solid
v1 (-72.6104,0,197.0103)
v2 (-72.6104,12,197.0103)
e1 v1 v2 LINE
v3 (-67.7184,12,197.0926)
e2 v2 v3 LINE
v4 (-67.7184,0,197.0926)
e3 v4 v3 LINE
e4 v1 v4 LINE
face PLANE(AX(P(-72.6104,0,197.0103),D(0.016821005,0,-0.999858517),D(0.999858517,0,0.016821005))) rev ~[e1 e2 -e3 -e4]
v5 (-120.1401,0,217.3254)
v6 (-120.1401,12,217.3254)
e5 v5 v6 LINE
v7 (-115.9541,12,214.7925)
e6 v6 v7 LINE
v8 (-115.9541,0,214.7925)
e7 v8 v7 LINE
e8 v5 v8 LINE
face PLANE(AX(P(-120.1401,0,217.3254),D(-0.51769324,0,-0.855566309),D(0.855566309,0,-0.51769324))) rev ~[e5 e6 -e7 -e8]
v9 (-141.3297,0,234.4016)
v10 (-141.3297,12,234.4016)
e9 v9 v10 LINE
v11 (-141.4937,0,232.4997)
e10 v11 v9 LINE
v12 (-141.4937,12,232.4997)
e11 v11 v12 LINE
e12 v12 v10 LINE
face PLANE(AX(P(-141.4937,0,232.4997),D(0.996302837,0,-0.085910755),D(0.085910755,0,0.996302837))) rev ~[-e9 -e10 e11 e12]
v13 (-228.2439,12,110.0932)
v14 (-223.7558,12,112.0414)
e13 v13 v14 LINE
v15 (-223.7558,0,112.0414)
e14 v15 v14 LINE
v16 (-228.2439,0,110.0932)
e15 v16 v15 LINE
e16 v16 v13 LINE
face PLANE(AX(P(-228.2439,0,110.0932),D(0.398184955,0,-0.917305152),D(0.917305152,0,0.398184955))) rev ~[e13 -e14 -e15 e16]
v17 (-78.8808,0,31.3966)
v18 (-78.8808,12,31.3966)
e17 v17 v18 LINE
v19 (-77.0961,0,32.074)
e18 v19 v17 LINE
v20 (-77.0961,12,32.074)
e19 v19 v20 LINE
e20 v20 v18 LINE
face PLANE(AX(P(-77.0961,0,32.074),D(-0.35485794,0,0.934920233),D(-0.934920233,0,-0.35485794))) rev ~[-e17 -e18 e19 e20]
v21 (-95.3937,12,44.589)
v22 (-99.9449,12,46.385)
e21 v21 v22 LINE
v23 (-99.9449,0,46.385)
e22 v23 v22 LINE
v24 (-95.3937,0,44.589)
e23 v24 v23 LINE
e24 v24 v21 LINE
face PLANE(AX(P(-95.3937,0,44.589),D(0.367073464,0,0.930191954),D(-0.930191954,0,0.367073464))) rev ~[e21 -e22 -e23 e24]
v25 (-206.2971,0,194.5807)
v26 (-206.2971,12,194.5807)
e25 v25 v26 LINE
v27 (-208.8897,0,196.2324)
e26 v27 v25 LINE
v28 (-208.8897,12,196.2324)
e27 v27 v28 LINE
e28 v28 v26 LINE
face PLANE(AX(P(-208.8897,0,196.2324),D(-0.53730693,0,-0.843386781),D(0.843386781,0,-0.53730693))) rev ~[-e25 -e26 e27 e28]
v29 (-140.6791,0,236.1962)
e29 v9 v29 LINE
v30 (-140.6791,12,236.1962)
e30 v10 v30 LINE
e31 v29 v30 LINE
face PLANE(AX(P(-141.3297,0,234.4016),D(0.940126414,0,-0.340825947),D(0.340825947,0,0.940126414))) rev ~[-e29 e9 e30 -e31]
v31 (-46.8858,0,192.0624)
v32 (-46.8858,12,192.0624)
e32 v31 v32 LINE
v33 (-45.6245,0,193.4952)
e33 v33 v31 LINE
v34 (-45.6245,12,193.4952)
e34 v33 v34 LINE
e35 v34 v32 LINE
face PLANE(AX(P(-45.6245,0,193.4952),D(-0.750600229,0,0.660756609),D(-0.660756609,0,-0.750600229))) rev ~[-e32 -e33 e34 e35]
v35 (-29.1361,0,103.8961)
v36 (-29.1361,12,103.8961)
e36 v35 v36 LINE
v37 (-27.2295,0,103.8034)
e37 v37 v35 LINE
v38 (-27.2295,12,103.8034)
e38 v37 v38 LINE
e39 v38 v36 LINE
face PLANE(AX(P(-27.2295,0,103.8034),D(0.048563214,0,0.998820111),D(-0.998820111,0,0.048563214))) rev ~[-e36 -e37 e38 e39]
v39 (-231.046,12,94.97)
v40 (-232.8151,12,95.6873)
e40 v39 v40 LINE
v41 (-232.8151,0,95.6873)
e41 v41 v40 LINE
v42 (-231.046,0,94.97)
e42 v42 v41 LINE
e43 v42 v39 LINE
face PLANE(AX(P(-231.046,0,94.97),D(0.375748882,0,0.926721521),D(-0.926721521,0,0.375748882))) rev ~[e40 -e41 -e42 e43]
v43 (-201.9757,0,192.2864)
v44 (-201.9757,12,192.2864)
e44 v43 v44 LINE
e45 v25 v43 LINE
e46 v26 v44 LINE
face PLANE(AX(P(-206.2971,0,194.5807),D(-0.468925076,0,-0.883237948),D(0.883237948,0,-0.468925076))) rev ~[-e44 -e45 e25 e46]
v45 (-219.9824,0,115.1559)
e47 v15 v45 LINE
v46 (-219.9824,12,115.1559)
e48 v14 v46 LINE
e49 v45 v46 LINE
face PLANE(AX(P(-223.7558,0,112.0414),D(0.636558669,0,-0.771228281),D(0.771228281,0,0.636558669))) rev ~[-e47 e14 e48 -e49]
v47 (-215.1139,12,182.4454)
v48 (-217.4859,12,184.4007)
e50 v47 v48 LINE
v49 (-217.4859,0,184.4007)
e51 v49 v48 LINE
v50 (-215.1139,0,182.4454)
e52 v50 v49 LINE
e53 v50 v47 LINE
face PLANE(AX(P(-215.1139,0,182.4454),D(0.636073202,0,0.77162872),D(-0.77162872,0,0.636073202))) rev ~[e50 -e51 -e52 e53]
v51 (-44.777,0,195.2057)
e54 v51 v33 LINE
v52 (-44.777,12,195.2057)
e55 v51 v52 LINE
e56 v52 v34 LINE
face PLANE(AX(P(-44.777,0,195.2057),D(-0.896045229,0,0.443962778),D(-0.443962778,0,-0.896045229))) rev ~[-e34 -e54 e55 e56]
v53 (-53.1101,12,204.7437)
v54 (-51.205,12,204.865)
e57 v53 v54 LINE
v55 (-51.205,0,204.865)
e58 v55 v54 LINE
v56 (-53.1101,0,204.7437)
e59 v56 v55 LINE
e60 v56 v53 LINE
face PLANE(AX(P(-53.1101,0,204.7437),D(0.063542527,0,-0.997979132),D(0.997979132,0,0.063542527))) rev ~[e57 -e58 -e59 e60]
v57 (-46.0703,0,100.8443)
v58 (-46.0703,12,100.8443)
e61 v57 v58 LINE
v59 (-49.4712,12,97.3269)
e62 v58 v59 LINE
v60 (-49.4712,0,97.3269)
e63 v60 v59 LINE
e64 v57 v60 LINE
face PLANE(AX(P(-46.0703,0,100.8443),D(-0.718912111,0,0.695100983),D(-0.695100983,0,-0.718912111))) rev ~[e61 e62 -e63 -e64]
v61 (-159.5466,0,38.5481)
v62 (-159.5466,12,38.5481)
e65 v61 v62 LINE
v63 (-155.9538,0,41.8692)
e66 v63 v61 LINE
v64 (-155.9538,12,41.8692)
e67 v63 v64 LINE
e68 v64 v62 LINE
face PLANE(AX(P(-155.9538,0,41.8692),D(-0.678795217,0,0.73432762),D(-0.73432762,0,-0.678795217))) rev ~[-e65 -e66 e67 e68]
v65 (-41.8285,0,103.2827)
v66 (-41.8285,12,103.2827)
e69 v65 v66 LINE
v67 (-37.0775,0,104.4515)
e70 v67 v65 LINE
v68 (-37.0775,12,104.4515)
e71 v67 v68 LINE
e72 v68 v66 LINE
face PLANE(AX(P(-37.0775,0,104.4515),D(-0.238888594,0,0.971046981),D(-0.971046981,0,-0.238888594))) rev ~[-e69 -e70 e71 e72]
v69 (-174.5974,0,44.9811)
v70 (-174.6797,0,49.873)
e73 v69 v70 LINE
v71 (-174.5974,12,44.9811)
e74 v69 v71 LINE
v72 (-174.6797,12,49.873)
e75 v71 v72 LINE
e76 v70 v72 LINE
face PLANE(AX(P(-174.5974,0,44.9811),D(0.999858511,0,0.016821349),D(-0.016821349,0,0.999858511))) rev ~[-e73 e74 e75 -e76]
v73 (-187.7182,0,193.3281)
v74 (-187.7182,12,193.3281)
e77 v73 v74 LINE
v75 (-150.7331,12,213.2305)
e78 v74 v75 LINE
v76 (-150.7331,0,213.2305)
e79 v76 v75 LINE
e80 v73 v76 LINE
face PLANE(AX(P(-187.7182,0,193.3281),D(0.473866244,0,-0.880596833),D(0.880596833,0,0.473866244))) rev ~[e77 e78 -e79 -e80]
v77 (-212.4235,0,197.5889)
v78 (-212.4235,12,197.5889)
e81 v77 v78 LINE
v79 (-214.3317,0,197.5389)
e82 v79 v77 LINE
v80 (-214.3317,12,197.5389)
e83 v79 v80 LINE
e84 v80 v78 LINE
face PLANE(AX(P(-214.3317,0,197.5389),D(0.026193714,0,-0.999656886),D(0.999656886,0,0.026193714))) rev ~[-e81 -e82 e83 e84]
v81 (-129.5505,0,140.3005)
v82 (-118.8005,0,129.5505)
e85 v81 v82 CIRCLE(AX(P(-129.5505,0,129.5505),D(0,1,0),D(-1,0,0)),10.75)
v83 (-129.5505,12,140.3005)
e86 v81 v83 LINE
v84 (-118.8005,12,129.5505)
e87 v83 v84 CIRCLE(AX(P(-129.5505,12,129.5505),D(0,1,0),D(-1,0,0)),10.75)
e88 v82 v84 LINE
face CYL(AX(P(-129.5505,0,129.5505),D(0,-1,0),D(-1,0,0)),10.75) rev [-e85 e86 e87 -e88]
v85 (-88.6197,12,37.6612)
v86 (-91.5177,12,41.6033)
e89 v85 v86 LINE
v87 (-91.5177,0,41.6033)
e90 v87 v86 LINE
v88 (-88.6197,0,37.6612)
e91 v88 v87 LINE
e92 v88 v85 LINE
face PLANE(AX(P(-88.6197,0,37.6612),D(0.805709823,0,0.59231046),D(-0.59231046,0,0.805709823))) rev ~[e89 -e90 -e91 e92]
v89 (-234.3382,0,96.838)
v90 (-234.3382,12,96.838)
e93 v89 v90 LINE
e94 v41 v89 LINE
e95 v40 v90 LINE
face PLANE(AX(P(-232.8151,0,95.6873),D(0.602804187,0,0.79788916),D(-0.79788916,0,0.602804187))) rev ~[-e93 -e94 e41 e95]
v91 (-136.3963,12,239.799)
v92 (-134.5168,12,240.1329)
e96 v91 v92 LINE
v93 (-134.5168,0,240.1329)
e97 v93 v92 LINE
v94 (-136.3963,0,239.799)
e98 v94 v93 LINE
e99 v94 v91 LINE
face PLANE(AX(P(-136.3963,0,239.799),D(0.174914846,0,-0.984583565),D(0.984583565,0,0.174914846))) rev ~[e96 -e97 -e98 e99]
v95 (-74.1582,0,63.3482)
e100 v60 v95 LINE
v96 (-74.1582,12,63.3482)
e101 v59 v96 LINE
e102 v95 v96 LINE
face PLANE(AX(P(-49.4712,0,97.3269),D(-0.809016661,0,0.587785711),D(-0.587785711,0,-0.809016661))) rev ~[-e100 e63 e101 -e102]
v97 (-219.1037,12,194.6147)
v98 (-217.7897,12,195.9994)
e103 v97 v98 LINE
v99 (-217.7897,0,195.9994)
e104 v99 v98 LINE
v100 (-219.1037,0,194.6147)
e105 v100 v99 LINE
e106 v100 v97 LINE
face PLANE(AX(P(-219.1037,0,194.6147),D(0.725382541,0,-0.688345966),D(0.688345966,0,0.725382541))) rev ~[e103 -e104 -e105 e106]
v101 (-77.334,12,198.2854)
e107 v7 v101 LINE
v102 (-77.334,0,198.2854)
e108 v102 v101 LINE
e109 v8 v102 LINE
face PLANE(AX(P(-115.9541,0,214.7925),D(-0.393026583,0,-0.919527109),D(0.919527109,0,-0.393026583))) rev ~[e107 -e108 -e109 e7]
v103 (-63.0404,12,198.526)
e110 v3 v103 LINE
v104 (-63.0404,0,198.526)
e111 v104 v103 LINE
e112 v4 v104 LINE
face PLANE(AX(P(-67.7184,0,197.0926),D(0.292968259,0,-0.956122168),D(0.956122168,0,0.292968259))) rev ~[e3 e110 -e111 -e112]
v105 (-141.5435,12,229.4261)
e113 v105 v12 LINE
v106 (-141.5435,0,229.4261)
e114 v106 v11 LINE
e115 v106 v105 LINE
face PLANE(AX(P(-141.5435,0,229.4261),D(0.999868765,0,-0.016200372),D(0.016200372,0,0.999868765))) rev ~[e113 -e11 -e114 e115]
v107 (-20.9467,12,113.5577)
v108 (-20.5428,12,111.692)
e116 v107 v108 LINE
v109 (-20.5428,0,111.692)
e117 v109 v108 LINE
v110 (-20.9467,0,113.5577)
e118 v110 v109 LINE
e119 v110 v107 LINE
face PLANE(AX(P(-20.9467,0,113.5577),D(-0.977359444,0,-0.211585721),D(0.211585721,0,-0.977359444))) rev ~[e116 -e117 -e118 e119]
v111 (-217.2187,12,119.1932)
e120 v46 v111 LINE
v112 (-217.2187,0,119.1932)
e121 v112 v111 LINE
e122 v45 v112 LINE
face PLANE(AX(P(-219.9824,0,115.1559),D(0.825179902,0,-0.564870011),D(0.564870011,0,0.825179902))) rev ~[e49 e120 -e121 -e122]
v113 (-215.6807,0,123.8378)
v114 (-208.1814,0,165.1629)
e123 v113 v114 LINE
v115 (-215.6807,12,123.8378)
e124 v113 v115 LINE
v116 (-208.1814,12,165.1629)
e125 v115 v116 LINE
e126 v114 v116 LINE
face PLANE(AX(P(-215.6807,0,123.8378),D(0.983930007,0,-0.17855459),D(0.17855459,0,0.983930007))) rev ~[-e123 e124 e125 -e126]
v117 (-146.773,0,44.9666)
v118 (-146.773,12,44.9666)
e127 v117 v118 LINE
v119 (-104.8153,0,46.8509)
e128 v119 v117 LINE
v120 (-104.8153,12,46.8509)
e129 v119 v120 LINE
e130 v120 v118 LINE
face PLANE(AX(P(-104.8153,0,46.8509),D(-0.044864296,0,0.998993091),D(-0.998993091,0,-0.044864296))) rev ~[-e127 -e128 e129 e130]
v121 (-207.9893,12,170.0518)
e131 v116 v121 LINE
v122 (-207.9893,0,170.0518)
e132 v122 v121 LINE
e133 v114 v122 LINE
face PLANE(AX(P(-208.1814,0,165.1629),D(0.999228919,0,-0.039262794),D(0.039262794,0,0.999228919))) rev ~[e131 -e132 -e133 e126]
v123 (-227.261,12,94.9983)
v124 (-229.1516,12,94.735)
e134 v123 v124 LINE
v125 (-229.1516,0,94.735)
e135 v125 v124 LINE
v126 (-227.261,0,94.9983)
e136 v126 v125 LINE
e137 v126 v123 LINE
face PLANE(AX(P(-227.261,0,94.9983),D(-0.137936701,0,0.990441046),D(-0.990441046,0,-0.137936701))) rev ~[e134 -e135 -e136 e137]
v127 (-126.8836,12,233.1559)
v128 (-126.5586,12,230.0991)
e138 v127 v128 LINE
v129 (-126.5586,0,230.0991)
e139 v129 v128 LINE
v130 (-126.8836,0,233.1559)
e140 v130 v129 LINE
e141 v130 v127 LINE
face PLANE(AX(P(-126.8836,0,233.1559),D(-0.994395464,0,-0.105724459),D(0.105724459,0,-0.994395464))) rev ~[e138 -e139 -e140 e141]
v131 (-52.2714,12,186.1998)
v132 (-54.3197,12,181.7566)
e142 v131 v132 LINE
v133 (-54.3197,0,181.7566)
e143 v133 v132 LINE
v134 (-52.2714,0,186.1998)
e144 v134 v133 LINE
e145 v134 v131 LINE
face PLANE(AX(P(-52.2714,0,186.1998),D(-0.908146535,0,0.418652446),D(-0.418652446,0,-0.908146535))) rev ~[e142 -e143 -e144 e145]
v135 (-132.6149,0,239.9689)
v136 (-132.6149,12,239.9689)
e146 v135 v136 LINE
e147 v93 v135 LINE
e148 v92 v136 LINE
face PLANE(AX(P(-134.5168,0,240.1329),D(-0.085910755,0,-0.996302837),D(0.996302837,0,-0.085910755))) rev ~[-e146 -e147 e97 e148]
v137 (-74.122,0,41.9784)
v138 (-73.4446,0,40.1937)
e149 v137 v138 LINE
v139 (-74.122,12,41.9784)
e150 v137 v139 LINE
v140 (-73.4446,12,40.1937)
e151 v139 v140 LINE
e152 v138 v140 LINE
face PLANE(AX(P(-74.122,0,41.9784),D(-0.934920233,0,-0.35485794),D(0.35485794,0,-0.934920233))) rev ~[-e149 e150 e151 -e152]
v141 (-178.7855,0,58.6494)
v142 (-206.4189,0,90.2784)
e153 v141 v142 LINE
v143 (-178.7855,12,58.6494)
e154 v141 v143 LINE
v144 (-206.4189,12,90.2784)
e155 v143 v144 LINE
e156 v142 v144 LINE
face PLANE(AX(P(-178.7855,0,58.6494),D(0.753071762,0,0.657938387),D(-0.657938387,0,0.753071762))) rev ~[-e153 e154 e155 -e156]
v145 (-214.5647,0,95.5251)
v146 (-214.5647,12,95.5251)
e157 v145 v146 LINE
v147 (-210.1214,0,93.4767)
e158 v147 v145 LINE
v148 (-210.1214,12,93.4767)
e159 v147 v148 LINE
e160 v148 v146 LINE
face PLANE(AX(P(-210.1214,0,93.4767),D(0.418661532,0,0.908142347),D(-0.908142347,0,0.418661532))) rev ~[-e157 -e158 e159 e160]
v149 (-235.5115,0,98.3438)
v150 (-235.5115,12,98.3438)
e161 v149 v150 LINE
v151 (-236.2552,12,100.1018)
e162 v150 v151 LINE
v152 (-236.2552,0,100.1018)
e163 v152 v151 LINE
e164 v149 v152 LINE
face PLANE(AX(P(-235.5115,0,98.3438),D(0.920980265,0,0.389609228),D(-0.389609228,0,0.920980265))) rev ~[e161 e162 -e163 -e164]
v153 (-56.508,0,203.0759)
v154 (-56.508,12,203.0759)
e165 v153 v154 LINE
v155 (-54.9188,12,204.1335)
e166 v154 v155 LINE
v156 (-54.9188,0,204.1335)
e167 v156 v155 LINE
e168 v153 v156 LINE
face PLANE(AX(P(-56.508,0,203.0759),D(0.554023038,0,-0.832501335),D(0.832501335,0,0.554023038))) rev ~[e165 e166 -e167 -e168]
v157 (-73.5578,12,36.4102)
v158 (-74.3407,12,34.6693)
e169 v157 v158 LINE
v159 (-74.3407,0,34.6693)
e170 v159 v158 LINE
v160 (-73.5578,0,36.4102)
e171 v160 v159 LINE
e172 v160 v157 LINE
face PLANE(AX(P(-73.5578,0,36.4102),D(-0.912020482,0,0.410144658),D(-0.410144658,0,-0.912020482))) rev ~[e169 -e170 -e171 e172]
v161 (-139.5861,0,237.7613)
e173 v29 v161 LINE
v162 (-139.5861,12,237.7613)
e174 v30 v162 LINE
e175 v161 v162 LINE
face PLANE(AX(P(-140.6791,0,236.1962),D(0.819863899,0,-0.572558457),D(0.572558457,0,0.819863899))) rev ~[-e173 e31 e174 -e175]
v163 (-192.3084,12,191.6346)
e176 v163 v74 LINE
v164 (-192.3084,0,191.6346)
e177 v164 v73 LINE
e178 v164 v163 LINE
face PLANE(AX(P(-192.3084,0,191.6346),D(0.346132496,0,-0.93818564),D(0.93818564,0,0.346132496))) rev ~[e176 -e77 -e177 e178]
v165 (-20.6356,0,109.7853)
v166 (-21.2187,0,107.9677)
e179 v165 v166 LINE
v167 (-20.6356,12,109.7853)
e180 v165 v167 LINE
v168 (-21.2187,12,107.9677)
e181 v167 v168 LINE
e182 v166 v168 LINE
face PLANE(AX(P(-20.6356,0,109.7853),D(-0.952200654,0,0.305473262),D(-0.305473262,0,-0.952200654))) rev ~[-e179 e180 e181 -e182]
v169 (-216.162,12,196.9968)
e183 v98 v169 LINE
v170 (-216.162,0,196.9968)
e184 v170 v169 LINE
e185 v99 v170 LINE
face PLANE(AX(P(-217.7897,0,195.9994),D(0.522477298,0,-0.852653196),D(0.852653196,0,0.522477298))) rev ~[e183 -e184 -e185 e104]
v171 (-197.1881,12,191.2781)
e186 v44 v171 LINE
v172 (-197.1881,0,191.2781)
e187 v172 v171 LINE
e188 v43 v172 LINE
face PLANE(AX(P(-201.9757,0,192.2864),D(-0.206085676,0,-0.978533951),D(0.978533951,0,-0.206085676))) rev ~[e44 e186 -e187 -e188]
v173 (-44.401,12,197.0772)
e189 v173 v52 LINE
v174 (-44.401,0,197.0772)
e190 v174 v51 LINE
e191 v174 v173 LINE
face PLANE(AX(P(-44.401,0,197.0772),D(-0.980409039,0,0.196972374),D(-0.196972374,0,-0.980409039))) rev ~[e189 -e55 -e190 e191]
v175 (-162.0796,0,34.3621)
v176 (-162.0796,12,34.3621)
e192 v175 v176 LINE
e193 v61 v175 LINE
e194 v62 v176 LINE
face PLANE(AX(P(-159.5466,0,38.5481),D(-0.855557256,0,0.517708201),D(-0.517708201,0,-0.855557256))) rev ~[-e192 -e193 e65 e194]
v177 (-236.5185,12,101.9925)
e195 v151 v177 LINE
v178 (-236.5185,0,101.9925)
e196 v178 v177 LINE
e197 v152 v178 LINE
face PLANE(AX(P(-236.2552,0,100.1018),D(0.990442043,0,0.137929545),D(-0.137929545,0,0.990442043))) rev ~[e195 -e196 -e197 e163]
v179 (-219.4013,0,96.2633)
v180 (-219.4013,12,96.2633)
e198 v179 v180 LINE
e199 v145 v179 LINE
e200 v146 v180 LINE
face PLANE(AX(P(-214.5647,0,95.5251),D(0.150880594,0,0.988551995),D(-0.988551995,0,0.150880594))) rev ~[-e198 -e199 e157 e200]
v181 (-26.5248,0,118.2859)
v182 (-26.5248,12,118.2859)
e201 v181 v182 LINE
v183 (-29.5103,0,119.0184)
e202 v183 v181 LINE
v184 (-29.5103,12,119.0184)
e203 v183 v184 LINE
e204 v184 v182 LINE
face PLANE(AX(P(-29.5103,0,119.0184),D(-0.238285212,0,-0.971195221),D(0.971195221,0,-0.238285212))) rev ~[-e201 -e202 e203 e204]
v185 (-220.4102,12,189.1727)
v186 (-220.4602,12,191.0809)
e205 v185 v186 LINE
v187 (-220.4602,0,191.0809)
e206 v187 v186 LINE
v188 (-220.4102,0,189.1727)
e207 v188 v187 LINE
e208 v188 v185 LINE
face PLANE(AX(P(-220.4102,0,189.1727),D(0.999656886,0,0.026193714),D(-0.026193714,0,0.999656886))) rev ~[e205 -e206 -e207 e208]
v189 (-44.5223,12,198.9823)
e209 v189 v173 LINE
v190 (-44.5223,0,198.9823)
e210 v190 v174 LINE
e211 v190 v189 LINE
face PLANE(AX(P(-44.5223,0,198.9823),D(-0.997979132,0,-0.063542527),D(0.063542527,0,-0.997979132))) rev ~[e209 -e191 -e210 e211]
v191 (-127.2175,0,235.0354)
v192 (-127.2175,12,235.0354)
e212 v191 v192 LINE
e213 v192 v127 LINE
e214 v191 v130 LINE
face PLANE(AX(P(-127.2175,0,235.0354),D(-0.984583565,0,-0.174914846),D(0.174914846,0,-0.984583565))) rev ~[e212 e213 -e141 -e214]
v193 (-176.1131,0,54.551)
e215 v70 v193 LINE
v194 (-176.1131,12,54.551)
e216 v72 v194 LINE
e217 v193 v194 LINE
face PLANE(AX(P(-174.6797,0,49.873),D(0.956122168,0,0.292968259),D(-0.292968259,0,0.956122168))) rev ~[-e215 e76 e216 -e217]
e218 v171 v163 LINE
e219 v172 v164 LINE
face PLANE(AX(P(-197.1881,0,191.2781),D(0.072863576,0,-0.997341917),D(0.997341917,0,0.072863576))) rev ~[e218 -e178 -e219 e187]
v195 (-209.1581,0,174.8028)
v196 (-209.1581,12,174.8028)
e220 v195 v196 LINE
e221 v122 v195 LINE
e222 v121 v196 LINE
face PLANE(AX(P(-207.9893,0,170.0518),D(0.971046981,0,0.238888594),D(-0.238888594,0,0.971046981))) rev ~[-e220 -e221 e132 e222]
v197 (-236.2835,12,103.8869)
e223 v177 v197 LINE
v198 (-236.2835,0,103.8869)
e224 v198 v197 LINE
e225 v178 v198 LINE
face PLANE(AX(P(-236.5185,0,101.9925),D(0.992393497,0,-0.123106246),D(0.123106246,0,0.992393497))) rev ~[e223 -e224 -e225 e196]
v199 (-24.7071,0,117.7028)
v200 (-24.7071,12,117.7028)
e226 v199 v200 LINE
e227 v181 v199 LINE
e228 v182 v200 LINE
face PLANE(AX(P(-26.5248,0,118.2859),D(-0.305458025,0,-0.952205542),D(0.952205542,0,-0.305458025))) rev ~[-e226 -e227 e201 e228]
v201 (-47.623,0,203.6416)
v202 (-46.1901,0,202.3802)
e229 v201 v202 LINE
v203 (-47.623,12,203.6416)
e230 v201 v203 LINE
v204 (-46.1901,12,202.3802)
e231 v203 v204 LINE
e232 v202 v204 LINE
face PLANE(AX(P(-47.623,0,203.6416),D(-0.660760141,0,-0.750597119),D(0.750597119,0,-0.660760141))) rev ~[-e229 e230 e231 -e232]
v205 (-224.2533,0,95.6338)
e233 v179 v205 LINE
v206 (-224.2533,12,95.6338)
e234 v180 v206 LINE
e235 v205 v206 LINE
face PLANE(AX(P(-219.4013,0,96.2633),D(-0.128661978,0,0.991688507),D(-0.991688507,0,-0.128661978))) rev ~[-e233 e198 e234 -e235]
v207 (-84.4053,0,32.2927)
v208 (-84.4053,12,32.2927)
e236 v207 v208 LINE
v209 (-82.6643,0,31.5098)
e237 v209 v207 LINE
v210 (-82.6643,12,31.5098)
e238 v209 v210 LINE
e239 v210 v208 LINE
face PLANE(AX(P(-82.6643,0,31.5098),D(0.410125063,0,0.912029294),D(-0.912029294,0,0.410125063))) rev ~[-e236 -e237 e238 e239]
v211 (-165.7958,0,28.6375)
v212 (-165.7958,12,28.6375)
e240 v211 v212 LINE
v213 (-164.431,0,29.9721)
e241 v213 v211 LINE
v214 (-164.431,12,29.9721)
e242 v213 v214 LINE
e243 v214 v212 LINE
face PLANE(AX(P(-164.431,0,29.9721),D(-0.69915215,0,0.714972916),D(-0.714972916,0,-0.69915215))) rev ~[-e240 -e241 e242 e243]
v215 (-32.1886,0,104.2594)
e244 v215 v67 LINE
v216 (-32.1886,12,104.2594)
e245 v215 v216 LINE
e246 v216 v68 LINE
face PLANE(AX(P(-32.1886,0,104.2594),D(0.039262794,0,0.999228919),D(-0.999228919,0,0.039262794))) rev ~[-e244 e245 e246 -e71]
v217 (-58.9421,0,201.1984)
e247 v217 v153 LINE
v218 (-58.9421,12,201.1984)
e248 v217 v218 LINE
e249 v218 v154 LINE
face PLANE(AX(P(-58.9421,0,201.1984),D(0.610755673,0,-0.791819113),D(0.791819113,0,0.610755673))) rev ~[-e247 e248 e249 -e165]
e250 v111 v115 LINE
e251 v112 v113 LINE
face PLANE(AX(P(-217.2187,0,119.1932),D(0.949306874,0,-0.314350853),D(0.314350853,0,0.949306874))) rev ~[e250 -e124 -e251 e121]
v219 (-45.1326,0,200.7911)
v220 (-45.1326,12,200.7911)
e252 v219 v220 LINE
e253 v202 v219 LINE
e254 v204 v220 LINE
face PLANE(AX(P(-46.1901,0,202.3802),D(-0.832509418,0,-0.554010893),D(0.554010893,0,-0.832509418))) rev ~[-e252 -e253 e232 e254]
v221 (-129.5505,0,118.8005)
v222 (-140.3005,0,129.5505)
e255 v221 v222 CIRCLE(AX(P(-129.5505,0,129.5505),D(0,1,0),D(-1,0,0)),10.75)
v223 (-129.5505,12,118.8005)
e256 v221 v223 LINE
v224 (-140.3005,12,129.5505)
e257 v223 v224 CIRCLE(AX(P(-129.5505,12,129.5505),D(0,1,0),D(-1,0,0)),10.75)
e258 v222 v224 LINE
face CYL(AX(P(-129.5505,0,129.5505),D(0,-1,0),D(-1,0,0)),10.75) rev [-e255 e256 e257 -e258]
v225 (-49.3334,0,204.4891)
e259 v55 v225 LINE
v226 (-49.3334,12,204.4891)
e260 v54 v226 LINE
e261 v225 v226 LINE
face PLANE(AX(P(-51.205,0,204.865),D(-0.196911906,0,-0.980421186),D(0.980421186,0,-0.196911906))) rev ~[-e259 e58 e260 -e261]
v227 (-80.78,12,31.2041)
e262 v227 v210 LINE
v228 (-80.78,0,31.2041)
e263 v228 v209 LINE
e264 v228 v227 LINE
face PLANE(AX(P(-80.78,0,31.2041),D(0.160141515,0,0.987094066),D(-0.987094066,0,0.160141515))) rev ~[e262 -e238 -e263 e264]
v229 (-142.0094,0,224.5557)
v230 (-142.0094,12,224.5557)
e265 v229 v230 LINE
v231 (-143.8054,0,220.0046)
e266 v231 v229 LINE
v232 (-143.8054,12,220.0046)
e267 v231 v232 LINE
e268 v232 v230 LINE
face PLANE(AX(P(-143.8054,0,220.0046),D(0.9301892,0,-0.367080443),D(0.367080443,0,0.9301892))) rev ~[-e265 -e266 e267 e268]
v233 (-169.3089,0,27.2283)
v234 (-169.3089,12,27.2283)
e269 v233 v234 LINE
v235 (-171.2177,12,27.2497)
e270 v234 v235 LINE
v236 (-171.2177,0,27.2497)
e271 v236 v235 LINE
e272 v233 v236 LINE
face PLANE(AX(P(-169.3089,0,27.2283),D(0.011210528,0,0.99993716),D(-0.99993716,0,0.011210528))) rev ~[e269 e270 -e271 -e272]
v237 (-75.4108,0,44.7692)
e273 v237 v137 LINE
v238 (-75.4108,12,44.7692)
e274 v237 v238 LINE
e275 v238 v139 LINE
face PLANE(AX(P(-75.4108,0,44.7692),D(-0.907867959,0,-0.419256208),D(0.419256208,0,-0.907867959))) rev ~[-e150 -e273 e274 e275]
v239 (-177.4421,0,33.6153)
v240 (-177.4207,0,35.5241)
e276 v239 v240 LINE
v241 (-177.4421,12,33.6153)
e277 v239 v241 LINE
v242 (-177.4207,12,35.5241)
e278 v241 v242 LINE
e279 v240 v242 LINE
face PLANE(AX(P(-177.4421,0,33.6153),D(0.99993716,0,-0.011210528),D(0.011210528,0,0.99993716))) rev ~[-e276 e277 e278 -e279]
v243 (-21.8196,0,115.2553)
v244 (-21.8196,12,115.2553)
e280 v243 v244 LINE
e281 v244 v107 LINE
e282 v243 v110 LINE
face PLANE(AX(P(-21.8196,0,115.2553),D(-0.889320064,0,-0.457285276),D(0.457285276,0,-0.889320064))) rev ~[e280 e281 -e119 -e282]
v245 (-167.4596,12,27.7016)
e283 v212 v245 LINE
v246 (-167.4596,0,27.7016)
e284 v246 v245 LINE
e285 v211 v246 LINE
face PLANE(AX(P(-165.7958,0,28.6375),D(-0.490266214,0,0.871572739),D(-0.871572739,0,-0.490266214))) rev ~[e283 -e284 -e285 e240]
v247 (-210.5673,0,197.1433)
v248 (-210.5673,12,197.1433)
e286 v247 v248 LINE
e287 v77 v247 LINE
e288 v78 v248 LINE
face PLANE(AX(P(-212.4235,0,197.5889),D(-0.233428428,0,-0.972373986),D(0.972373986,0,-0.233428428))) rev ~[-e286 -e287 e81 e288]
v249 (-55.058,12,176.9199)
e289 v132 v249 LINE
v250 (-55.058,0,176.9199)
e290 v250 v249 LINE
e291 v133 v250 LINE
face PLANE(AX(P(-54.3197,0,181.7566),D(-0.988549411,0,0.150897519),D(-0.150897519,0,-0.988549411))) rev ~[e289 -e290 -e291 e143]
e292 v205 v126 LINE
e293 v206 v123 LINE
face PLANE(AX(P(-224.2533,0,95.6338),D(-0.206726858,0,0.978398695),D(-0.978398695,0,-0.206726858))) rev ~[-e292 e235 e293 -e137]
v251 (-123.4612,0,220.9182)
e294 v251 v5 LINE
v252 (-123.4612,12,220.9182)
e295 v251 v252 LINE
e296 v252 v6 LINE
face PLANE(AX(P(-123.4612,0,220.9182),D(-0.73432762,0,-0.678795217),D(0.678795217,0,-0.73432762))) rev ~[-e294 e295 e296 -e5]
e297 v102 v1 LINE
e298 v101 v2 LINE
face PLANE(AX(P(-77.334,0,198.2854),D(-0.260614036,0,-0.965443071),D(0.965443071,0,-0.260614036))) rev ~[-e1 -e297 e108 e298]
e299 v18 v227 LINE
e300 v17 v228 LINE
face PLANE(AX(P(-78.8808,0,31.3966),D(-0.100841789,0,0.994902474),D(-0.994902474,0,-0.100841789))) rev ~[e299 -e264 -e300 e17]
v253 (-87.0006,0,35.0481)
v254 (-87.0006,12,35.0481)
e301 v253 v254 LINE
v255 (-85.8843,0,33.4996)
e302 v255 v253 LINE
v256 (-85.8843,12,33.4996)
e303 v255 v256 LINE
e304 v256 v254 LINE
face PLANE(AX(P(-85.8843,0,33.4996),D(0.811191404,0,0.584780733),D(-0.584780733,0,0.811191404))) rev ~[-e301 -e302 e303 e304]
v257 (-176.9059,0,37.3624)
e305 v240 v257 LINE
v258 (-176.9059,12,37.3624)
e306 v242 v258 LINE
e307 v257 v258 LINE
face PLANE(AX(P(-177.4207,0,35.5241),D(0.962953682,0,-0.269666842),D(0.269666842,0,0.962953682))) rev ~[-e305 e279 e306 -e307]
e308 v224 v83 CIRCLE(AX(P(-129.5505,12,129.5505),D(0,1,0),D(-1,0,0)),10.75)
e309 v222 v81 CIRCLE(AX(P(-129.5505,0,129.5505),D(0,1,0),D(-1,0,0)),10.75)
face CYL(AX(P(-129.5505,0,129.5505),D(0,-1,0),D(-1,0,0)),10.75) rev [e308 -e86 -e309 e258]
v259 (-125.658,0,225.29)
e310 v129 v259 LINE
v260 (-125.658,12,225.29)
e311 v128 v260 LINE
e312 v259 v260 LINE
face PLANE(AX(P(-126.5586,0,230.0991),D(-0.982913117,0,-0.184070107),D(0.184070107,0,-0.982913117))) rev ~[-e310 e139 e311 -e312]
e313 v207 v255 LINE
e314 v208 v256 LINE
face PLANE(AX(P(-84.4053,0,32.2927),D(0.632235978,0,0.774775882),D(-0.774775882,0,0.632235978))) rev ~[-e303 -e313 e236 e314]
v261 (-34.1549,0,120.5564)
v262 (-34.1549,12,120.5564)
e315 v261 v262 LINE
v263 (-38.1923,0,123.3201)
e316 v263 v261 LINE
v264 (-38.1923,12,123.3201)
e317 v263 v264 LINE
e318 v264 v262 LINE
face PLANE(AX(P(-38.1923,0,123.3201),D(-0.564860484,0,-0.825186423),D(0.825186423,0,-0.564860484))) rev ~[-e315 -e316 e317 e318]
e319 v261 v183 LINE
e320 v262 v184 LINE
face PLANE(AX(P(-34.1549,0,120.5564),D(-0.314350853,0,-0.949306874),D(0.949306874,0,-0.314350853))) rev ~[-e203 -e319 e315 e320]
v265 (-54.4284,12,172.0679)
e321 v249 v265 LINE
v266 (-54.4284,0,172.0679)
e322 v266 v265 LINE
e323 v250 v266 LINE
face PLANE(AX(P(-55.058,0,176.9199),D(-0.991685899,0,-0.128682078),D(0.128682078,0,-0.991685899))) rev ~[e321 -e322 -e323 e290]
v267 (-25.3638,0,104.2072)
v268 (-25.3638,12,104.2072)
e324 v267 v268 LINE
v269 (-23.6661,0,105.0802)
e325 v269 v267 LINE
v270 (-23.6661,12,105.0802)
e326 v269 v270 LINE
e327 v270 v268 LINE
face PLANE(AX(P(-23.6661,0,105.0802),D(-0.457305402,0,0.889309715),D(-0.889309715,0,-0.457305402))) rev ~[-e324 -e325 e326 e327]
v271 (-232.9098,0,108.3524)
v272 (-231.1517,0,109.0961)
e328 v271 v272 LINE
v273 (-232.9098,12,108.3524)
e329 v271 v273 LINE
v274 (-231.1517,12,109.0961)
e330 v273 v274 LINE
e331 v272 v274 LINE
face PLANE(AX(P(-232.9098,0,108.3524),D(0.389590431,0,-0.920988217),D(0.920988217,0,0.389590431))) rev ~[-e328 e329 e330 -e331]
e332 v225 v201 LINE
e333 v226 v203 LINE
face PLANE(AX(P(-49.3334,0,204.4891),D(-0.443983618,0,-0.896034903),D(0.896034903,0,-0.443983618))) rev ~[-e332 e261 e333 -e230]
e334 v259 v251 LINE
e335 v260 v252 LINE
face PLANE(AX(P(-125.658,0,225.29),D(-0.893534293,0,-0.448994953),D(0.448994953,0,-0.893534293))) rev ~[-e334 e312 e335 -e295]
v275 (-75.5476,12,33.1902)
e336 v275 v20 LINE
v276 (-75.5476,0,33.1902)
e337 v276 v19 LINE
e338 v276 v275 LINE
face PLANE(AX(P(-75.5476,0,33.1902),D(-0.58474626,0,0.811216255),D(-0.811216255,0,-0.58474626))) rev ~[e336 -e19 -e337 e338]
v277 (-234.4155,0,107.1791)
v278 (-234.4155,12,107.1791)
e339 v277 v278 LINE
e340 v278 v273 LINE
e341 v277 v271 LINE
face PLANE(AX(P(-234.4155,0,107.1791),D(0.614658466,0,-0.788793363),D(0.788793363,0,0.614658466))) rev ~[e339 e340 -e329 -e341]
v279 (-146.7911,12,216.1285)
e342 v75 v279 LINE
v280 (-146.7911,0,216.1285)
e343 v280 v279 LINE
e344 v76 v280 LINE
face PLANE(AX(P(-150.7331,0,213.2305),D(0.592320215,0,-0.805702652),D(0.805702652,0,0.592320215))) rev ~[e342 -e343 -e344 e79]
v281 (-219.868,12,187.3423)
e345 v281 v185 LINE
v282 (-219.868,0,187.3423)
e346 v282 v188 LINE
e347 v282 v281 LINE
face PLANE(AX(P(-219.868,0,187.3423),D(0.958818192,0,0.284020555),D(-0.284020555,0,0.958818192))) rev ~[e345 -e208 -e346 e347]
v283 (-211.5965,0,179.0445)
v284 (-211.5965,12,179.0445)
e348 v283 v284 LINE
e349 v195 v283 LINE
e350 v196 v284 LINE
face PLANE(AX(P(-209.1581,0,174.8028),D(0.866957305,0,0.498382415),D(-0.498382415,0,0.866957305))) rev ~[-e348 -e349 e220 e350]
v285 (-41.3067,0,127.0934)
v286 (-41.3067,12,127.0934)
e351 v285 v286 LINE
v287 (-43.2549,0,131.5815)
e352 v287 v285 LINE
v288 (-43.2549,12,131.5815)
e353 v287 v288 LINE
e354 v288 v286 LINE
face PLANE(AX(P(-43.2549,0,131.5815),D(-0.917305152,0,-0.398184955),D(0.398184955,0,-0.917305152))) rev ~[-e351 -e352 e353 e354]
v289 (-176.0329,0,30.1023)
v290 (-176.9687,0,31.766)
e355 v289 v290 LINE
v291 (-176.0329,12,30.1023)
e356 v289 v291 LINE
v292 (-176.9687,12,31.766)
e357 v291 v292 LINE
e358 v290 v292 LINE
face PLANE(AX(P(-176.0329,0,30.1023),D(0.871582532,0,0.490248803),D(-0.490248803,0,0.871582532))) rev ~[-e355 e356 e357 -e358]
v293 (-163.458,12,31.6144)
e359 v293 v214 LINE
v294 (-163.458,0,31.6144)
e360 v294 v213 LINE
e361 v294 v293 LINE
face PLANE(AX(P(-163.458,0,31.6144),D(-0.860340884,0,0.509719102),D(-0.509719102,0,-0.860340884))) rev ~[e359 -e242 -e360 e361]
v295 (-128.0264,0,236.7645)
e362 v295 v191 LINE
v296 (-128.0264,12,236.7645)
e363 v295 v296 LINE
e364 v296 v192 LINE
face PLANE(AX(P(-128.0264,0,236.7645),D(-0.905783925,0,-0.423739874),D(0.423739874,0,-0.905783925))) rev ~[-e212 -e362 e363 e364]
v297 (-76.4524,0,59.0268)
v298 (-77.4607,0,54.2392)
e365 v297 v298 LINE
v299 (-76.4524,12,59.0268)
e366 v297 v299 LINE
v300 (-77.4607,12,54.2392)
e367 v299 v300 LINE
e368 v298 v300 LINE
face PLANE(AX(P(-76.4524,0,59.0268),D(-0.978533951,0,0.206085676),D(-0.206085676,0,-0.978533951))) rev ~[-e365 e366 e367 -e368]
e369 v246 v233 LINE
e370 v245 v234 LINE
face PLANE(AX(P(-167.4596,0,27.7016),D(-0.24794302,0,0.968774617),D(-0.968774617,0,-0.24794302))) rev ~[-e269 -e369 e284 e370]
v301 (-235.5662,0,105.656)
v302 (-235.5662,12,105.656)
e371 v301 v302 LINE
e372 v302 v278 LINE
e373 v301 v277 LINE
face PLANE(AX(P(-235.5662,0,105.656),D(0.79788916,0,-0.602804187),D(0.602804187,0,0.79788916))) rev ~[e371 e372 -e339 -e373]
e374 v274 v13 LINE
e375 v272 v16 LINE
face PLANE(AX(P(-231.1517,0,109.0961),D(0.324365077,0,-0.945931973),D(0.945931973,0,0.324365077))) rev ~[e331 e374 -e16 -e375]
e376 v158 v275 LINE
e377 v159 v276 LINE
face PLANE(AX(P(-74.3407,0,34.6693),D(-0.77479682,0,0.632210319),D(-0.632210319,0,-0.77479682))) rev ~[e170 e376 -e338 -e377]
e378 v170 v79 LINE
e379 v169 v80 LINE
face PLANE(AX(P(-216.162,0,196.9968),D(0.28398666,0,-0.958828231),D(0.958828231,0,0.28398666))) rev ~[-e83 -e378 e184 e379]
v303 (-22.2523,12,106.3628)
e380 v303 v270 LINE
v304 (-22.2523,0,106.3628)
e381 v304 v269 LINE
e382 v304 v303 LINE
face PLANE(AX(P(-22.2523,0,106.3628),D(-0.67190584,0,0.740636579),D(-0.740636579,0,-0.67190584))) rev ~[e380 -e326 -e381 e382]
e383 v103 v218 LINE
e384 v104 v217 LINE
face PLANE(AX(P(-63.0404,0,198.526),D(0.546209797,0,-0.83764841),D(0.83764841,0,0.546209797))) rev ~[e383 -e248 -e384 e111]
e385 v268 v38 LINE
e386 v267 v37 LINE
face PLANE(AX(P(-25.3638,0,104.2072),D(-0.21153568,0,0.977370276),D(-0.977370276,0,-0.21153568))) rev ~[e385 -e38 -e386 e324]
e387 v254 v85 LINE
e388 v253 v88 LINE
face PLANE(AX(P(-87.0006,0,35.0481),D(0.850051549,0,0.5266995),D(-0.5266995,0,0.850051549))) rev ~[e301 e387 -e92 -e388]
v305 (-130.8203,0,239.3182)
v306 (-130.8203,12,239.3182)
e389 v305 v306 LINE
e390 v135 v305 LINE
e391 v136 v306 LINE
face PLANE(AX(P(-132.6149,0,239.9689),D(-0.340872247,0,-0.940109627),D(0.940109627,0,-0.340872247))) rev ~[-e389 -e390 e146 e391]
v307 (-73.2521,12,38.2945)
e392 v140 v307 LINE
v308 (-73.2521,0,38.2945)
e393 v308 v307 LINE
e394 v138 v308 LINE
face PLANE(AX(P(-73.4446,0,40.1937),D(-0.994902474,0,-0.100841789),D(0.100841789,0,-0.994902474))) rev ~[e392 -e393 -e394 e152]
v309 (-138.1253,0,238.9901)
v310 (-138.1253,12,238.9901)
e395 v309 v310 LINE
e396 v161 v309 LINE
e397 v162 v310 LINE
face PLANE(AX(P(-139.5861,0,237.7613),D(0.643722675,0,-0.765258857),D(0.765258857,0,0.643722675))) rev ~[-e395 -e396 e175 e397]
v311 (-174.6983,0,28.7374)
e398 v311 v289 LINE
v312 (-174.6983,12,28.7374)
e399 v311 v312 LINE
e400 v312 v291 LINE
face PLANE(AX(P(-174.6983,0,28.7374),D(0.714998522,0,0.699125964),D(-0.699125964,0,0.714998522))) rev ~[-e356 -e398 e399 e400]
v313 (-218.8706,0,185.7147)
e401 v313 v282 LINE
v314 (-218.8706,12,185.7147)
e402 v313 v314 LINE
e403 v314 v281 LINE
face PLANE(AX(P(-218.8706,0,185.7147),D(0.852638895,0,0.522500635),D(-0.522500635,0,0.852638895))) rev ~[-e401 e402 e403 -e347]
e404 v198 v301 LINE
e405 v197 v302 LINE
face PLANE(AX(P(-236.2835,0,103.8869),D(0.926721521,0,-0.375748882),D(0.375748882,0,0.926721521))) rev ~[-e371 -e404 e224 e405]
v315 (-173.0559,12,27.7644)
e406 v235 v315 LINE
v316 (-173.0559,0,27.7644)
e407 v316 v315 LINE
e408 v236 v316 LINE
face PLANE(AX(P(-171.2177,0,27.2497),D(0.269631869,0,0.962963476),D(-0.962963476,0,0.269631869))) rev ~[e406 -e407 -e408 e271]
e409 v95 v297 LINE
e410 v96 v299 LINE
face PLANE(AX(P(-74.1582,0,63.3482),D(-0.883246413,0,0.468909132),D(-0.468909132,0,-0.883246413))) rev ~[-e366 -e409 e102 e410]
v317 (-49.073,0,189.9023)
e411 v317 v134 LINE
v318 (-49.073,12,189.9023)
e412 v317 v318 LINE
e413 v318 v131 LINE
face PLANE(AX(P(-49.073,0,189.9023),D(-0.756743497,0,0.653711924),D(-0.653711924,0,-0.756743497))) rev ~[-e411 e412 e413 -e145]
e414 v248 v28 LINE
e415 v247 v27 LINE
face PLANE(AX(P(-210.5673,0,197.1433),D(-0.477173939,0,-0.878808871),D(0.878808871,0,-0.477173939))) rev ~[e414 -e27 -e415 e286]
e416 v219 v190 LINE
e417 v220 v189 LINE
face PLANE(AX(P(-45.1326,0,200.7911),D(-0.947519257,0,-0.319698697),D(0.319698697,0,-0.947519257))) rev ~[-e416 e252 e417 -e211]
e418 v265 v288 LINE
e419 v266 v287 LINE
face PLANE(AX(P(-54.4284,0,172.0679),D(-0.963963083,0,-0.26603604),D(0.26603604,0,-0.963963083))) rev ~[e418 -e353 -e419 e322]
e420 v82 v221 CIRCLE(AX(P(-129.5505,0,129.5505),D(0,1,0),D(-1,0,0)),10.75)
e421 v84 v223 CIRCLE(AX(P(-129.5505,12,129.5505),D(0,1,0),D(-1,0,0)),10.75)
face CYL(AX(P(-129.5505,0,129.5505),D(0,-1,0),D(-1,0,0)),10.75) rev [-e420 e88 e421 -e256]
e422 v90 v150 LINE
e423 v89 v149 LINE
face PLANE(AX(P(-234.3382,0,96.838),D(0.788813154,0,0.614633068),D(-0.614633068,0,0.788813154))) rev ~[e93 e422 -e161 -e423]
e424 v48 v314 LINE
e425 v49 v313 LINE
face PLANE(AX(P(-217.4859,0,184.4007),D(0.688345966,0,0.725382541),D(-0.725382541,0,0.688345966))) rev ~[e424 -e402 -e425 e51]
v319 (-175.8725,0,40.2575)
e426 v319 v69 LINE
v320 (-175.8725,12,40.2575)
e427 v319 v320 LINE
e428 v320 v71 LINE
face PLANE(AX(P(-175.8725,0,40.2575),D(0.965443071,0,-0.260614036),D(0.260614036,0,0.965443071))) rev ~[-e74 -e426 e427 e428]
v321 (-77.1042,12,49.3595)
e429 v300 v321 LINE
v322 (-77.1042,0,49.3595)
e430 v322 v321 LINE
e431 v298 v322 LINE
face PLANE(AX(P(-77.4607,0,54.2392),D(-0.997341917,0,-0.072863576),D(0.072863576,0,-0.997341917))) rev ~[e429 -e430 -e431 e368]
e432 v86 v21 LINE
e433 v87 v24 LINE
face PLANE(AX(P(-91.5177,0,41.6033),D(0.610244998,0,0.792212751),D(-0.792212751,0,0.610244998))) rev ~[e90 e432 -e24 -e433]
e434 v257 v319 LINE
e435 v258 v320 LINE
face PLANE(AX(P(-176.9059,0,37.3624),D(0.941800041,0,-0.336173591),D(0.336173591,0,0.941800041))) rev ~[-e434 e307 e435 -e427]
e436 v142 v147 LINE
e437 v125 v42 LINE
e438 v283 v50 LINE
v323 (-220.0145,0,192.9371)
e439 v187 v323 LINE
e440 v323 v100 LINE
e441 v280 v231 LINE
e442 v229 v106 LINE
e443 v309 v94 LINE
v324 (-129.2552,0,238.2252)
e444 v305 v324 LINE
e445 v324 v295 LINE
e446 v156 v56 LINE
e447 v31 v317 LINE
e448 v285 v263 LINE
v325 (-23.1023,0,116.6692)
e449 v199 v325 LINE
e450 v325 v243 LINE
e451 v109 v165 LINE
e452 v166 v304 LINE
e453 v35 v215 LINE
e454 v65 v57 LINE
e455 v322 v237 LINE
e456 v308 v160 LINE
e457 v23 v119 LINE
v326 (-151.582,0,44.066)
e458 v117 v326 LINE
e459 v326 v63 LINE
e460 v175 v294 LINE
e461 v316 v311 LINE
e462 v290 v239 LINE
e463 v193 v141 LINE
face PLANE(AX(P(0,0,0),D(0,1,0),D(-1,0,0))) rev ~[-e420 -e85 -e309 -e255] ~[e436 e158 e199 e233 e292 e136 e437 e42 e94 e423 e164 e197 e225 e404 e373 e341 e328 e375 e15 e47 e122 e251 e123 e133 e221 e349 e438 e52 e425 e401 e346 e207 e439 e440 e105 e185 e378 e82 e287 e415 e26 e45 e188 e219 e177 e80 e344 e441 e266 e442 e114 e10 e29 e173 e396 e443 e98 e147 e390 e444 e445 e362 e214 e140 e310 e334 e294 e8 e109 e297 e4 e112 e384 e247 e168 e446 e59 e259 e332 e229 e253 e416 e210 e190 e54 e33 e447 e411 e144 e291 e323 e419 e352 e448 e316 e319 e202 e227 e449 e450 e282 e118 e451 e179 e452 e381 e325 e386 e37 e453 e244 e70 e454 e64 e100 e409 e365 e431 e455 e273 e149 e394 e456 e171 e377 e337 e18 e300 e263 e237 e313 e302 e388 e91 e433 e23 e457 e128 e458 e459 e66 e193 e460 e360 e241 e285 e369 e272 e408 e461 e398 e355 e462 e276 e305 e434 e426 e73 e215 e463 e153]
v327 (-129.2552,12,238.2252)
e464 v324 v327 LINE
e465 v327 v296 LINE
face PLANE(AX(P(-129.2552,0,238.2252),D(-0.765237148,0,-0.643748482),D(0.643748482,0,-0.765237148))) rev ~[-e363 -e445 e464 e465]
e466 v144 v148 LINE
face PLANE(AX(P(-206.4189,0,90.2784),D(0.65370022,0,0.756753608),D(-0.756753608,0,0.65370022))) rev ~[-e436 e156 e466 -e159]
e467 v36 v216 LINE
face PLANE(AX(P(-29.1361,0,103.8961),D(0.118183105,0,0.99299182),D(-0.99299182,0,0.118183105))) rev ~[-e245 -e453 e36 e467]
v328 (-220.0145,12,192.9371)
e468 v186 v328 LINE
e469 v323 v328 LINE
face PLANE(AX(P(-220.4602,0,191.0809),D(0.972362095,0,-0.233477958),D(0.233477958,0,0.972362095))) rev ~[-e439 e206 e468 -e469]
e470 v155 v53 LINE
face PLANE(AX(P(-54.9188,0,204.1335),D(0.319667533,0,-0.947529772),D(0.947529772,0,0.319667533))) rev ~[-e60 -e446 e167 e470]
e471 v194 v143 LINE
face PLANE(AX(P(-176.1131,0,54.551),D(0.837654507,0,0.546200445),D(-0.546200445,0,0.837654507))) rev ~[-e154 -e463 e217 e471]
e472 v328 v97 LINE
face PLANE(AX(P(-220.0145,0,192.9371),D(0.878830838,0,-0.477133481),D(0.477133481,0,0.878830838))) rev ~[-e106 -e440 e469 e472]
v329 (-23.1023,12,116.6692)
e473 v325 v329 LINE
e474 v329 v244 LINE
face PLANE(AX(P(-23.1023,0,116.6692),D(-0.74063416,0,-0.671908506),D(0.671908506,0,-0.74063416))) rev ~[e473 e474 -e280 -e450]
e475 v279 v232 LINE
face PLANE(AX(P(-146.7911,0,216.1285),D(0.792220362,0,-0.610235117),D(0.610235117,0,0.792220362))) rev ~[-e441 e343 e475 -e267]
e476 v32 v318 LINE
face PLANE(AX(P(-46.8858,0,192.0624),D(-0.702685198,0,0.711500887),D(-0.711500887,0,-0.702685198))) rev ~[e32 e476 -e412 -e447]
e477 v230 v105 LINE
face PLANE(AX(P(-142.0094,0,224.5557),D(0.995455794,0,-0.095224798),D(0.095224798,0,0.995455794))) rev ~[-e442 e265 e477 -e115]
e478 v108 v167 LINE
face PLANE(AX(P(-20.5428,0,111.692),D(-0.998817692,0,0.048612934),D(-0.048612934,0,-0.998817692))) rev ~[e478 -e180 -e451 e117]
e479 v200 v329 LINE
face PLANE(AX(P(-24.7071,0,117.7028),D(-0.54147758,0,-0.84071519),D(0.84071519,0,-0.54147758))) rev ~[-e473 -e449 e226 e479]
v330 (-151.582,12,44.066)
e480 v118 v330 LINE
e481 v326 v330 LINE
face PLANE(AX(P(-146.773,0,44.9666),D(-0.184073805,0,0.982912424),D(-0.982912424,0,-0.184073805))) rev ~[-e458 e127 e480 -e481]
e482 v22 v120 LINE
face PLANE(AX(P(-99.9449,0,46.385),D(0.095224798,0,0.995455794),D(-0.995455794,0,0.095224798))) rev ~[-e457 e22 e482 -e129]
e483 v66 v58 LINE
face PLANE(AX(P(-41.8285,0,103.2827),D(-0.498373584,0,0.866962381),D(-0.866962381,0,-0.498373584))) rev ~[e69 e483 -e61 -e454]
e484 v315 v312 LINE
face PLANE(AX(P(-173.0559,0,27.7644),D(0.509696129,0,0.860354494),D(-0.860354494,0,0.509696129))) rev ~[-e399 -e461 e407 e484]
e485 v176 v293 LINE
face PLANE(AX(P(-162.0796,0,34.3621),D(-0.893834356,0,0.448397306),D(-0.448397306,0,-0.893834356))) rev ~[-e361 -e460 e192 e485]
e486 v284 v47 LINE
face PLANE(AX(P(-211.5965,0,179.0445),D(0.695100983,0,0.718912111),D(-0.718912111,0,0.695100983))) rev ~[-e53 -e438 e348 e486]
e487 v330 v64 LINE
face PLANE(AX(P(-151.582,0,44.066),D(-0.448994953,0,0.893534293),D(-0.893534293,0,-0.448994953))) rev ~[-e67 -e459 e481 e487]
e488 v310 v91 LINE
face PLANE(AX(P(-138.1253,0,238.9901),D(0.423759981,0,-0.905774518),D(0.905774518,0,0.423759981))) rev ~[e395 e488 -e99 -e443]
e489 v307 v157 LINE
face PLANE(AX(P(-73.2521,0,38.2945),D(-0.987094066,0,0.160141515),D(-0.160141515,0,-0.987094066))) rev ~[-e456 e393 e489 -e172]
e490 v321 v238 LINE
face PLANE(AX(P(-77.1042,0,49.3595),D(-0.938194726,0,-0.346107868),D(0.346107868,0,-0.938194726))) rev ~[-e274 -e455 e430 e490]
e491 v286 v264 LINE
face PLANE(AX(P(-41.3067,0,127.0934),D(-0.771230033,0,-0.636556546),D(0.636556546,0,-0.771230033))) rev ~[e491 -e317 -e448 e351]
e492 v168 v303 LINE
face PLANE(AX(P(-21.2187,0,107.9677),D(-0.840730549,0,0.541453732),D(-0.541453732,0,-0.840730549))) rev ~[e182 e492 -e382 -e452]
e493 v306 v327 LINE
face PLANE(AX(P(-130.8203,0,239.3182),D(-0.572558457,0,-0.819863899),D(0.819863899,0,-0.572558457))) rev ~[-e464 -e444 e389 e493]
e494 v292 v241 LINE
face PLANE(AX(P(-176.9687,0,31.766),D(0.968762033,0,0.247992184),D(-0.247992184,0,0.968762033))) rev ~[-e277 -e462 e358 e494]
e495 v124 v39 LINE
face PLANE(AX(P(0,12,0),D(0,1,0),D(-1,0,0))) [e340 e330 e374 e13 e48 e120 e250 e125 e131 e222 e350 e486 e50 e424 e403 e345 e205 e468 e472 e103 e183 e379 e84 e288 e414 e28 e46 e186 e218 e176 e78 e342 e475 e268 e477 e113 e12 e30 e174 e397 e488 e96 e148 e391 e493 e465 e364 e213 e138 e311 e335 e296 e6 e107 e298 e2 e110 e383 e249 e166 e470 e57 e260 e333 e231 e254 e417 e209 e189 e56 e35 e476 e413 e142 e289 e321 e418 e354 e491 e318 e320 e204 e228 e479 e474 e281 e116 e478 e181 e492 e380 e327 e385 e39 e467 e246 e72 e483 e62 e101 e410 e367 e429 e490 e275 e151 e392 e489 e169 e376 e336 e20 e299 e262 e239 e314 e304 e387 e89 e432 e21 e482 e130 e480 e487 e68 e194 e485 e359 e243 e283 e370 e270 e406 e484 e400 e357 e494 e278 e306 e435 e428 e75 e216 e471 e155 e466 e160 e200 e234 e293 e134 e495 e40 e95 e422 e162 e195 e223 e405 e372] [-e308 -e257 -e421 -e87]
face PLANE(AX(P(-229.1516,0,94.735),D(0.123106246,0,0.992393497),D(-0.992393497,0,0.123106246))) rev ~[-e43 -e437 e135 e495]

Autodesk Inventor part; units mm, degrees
ref_plane "YZ Plane" through (0, 0, 0) normal (1, 0, 0) x (0, 1, 0)
ref_plane "XZ Plane" through (0, 0, 0) normal (0, 1, 0) x (-1, 0, 0)
ref_plane "XY Plane" through (0, 0, 0) normal (0, 0, 1) x (1, 0, 0)
sketch "Sketch2" plane through (0, 0, 0) normal (0, 1, 0) x (-1, 0, 0)
  line L0 (77.8598, 129.5505) -> (181.2412, 129.5505)
  line L1 (129.5505, 77.8598) -> (129.5505, 181.2412)
  line L2 (208.1814, 165.1629) -> (207.9893, 170.0518)
  line L3 (207.9893, 170.0518) -> (209.1581, 174.8028)
  line L4 (209.1581, 174.8028) -> (211.5965, 179.0445)
  line L5 (211.5965, 179.0445) -> (215.1139, 182.4454)
  line L6 (215.1139, 182.4454) -> (217.4859, 184.4007)
  line L7 (217.4859, 184.4007) -> (218.8706, 185.7147)
  line L8 (218.8706, 185.7147) -> (219.868, 187.3423)
  line L9 (219.868, 187.3423) -> (220.4102, 189.1727)
  line L10 (220.4102, 189.1727) -> (220.4602, 191.0809)
  line L11 (220.4602, 191.0809) -> (220.0145, 192.9371)
  line L12 (220.0145, 192.9371) -> (219.1037, 194.6147)
  line L13 (219.1037, 194.6147) -> (217.7897, 195.9994)
  line L14 (217.7897, 195.9994) -> (216.162, 196.9968)
  line L15 (216.162, 196.9968) -> (214.3317, 197.5389)
  line L16 (214.3317, 197.5389) -> (212.4235, 197.5889)
  line L17 (212.4235, 197.5889) -> (210.5673, 197.1433)
  line L18 (210.5673, 197.1433) -> (208.8897, 196.2324)
  line L19 (208.8897, 196.2324) -> (206.2971, 194.5807)
  line L20 (206.2971, 194.5807) -> (201.9757, 192.2864)
  line L21 (201.9757, 192.2864) -> (197.1881, 191.2781)
  line L22 (197.1881, 191.2781) -> (192.3084, 191.6346)
  line L23 (192.3084, 191.6346) -> (187.7182, 193.3281)
  line L24 (187.7182, 193.3281) -> (150.7331, 213.2305)
  line L25 (150.7331, 213.2305) -> (146.7911, 216.1285)
  line L26 (146.7911, 216.1285) -> (143.8054, 220.0046)
  line L27 (143.8054, 220.0046) -> (142.0094, 224.5557)
  line L28 (142.0094, 224.5557) -> (141.5435, 229.4261)
  line L29 (141.5435, 229.4261) -> (141.4937, 232.4997)
  line L30 (141.4937, 232.4997) -> (141.3297, 234.4016)
  line L31 (141.3297, 234.4016) -> (140.6791, 236.1962)
  line L32 (140.6791, 236.1962) -> (139.5861, 237.7613)
  line L33 (139.5861, 237.7613) -> (138.1253, 238.9901)
  line L34 (138.1253, 238.9901) -> (136.3963, 239.799)
  line L35 (136.3963, 239.799) -> (134.5168, 240.1329)
  line L36 (134.5168, 240.1329) -> (132.6149, 239.9689)
  line L37 (132.6149, 239.9689) -> (130.8203, 239.3182)
  line L38 (130.8203, 239.3182) -> (129.2552, 238.2252)
  line L39 (129.2552, 238.2252) -> (128.0264, 236.7645)
  line L40 (128.0264, 236.7645) -> (127.2175, 235.0354)
  line L41 (127.2175, 235.0354) -> (126.8836, 233.1559)
  line L42 (126.8836, 233.1559) -> (126.5586, 230.0991)
  line L43 (126.5586, 230.0991) -> (125.658, 225.29)
  line L44 (125.658, 225.29) -> (123.4612, 220.9182)
  line L45 (123.4612, 220.9182) -> (120.1401, 217.3254)
  line L46 (120.1401, 217.3254) -> (115.9541, 214.7925)
  line L47 (115.9541, 214.7925) -> (77.334, 198.2854)
  line L48 (77.334, 198.2854) -> (72.6104, 197.0103)
  line L49 (72.6104, 197.0103) -> (67.7184, 197.0926)
  line L50 (67.7184, 197.0926) -> (63.0404, 198.526)
  line L51 (63.0404, 198.526) -> (58.9421, 201.1984)
  line L52 (58.9421, 201.1984) -> (56.508, 203.0759)
  line L53 (56.508, 203.0759) -> (54.9188, 204.1335)
  line L54 (54.9188, 204.1335) -> (53.1101, 204.7437)
  line L55 (53.1101, 204.7437) -> (51.205, 204.865)
  line L56 (51.205, 204.865) -> (49.3334, 204.4891)
  line L57 (49.3334, 204.4891) -> (47.623, 203.6416)
  line L58 (47.623, 203.6416) -> (46.1901, 202.3802)
  line L59 (46.1901, 202.3802) -> (45.1326, 200.7911)
  line L60 (45.1326, 200.7911) -> (44.5223, 198.9823)
  line L61 (44.5223, 198.9823) -> (44.401, 197.0772)
  line L62 (44.401, 197.0772) -> (44.777, 195.2057)
  line L63 (44.777, 195.2057) -> (45.6245, 193.4952)
  line L64 (45.6245, 193.4952) -> (46.8858, 192.0624)
  line L65 (46.8858, 192.0624) -> (49.073, 189.9023)
  line L66 (49.073, 189.9023) -> (52.2714, 186.1998)
  line L67 (52.2714, 186.1998) -> (54.3197, 181.7566)
  line L68 (54.3197, 181.7566) -> (55.058, 176.9199)
  line L69 (55.058, 176.9199) -> (54.4284, 172.0679)
  line L70 (54.4284, 172.0679) -> (43.2549, 131.5815)
  line L71 (43.2549, 131.5815) -> (41.3067, 127.0934)
  line L72 (41.3067, 127.0934) -> (38.1923, 123.3201)
  line L73 (38.1923, 123.3201) -> (34.1549, 120.5564)
  line L74 (34.1549, 120.5564) -> (29.5103, 119.0184)
  line L75 (29.5103, 119.0184) -> (26.5248, 118.2859)
  line L76 (26.5248, 118.2859) -> (24.7071, 117.7028)
  line L77 (24.7071, 117.7028) -> (23.1023, 116.6692)
  line L78 (23.1023, 116.6692) -> (21.8196, 115.2553)
  line L79 (21.8196, 115.2553) -> (20.9467, 113.5577)
  line L80 (20.9467, 113.5577) -> (20.5428, 111.692)
  line L81 (20.5428, 111.692) -> (20.6356, 109.7853)
  line L82 (20.6356, 109.7853) -> (21.2187, 107.9677)
  line L83 (21.2187, 107.9677) -> (22.2523, 106.3628)
  line L84 (22.2523, 106.3628) -> (23.6661, 105.0802)
  line L85 (23.6661, 105.0802) -> (25.3638, 104.2072)
  line L86 (25.3638, 104.2072) -> (27.2295, 103.8034)
  line L87 (27.2295, 103.8034) -> (29.1361, 103.8961)
  line L88 (29.1361, 103.8961) -> (32.1886, 104.2594)
  line L89 (32.1886, 104.2594) -> (37.0775, 104.4515)
  line L90 (37.0775, 104.4515) -> (41.8285, 103.2827)
  line L91 (41.8285, 103.2827) -> (46.0703, 100.8443)
  line L92 (46.0703, 100.8443) -> (49.4712, 97.3269)
  line L93 (49.4712, 97.3269) -> (74.1582, 63.3482)
  line L94 (74.1582, 63.3482) -> (76.4524, 59.0268)
  line L95 (76.4524, 59.0268) -> (77.4607, 54.2392)
  line L96 (77.4607, 54.2392) -> (77.1042, 49.3595)
  line L97 (77.1042, 49.3595) -> (75.4108, 44.7692)
  line L98 (75.4108, 44.7692) -> (74.122, 41.9784)
  line L99 (74.122, 41.9784) -> (73.4446, 40.1937)
  line L100 (73.4446, 40.1937) -> (73.2521, 38.2945)
  line L101 (73.2521, 38.2945) -> (73.5578, 36.4102)
  line L102 (73.5578, 36.4102) -> (74.3407, 34.6693)
  line L103 (74.3407, 34.6693) -> (75.5476, 33.1902)
  line L104 (75.5476, 33.1902) -> (77.0961, 32.074)
  line L105 (77.0961, 32.074) -> (78.8808, 31.3966)
  line L106 (78.8808, 31.3966) -> (80.78, 31.2041)
  line L107 (80.78, 31.2041) -> (82.6643, 31.5098)
  line L108 (82.6643, 31.5098) -> (84.4053, 32.2927)
  line L109 (84.4053, 32.2927) -> (85.8843, 33.4996)
  line L110 (85.8843, 33.4996) -> (87.0006, 35.0481)
  line L111 (87.0006, 35.0481) -> (88.6197, 37.6612)
  line L112 (88.6197, 37.6612) -> (91.5177, 41.6033)
  line L113 (91.5177, 41.6033) -> (95.3937, 44.589)
  line L114 (95.3937, 44.589) -> (99.9449, 46.385)
  line L115 (99.9449, 46.385) -> (104.8153, 46.8509)
  line L116 (104.8153, 46.8509) -> (146.773, 44.9666)
  line L117 (146.773, 44.9666) -> (151.582, 44.066)
  line L118 (151.582, 44.066) -> (155.9538, 41.8692)
  line L119 (155.9538, 41.8692) -> (159.5466, 38.5481)
  line L120 (159.5466, 38.5481) -> (162.0796, 34.3621)
  line L121 (162.0796, 34.3621) -> (163.458, 31.6144)
  line L122 (163.458, 31.6144) -> (164.431, 29.9721)
  line L123 (164.431, 29.9721) -> (165.7958, 28.6375)
  line L124 (165.7958, 28.6375) -> (167.4596, 27.7016)
  line L125 (167.4596, 27.7016) -> (169.3089, 27.2283)
  line L126 (169.3089, 27.2283) -> (171.2177, 27.2497)
  line L127 (171.2177, 27.2497) -> (173.0559, 27.7644)
  line L128 (173.0559, 27.7644) -> (174.6983, 28.7374)
  line L129 (174.6983, 28.7374) -> (176.0329, 30.1023)
  line L130 (176.0329, 30.1023) -> (176.9687, 31.766)
  line L131 (176.9687, 31.766) -> (177.4421, 33.6153)
  line L132 (177.4421, 33.6153) -> (177.4207, 35.5241)
  line L133 (177.4207, 35.5241) -> (176.9059, 37.3624)
  line L134 (176.9059, 37.3624) -> (175.8725, 40.2575)
  line L135 (175.8725, 40.2575) -> (174.5974, 44.9811)
  line L136 (174.5974, 44.9811) -> (174.6797, 49.873)
  line L137 (174.6797, 49.873) -> (176.1131, 54.551)
  line L138 (176.1131, 54.551) -> (178.7855, 58.6494)
  line L139 (178.7855, 58.6494) -> (206.4189, 90.2784)
  line L140 (206.4189, 90.2784) -> (210.1214, 93.4767)
  line L141 (210.1214, 93.4767) -> (214.5647, 95.5251)
  line L142 (214.5647, 95.5251) -> (219.4013, 96.2633)
  line L143 (219.4013, 96.2633) -> (224.2533, 95.6338)
  line L144 (224.2533, 95.6338) -> (227.261, 94.9983)
  line L145 (227.261, 94.9983) -> (229.1516, 94.735)
  line L146 (229.1516, 94.735) -> (231.046, 94.97)
  line L147 (231.046, 94.97) -> (232.8151, 95.6873)
  line L148 (232.8151, 95.6873) -> (234.3382, 96.838)
  line L149 (234.3382, 96.838) -> (235.5115, 98.3438)
  line L150 (235.5115, 98.3438) -> (236.2552, 100.1018)
  line L151 (236.2552, 100.1018) -> (236.5185, 101.9925)
  line L152 (236.5185, 101.9925) -> (236.2835, 103.8869)
  line L153 (236.2835, 103.8869) -> (235.5662, 105.656)
  line L154 (235.5662, 105.656) -> (234.4155, 107.1791)
  line L155 (234.4155, 107.1791) -> (232.9098, 108.3524)
  line L156 (232.9098, 108.3524) -> (231.1517, 109.0961)
  line L157 (231.1517, 109.0961) -> (228.2439, 110.0932)
  line L158 (228.2439, 110.0932) -> (223.7558, 112.0414)
  line L159 (223.7558, 112.0414) -> (219.9824, 115.1559)
  line L160 (219.9824, 115.1559) -> (217.2187, 119.1932)
  line L161 (217.2187, 119.1932) -> (215.6807, 123.8378)
  line L162 (215.6807, 123.8378) -> (208.1814, 165.1629)
  circle A0 centre (129.5505, 129.5505) radius 10.75
  dimension "d0" = 21.5
extrude "Extrusion1" add sketch "Sketch2" along normal blind 12
properties part number "sprocket7" material "Wood (Walnut)"
